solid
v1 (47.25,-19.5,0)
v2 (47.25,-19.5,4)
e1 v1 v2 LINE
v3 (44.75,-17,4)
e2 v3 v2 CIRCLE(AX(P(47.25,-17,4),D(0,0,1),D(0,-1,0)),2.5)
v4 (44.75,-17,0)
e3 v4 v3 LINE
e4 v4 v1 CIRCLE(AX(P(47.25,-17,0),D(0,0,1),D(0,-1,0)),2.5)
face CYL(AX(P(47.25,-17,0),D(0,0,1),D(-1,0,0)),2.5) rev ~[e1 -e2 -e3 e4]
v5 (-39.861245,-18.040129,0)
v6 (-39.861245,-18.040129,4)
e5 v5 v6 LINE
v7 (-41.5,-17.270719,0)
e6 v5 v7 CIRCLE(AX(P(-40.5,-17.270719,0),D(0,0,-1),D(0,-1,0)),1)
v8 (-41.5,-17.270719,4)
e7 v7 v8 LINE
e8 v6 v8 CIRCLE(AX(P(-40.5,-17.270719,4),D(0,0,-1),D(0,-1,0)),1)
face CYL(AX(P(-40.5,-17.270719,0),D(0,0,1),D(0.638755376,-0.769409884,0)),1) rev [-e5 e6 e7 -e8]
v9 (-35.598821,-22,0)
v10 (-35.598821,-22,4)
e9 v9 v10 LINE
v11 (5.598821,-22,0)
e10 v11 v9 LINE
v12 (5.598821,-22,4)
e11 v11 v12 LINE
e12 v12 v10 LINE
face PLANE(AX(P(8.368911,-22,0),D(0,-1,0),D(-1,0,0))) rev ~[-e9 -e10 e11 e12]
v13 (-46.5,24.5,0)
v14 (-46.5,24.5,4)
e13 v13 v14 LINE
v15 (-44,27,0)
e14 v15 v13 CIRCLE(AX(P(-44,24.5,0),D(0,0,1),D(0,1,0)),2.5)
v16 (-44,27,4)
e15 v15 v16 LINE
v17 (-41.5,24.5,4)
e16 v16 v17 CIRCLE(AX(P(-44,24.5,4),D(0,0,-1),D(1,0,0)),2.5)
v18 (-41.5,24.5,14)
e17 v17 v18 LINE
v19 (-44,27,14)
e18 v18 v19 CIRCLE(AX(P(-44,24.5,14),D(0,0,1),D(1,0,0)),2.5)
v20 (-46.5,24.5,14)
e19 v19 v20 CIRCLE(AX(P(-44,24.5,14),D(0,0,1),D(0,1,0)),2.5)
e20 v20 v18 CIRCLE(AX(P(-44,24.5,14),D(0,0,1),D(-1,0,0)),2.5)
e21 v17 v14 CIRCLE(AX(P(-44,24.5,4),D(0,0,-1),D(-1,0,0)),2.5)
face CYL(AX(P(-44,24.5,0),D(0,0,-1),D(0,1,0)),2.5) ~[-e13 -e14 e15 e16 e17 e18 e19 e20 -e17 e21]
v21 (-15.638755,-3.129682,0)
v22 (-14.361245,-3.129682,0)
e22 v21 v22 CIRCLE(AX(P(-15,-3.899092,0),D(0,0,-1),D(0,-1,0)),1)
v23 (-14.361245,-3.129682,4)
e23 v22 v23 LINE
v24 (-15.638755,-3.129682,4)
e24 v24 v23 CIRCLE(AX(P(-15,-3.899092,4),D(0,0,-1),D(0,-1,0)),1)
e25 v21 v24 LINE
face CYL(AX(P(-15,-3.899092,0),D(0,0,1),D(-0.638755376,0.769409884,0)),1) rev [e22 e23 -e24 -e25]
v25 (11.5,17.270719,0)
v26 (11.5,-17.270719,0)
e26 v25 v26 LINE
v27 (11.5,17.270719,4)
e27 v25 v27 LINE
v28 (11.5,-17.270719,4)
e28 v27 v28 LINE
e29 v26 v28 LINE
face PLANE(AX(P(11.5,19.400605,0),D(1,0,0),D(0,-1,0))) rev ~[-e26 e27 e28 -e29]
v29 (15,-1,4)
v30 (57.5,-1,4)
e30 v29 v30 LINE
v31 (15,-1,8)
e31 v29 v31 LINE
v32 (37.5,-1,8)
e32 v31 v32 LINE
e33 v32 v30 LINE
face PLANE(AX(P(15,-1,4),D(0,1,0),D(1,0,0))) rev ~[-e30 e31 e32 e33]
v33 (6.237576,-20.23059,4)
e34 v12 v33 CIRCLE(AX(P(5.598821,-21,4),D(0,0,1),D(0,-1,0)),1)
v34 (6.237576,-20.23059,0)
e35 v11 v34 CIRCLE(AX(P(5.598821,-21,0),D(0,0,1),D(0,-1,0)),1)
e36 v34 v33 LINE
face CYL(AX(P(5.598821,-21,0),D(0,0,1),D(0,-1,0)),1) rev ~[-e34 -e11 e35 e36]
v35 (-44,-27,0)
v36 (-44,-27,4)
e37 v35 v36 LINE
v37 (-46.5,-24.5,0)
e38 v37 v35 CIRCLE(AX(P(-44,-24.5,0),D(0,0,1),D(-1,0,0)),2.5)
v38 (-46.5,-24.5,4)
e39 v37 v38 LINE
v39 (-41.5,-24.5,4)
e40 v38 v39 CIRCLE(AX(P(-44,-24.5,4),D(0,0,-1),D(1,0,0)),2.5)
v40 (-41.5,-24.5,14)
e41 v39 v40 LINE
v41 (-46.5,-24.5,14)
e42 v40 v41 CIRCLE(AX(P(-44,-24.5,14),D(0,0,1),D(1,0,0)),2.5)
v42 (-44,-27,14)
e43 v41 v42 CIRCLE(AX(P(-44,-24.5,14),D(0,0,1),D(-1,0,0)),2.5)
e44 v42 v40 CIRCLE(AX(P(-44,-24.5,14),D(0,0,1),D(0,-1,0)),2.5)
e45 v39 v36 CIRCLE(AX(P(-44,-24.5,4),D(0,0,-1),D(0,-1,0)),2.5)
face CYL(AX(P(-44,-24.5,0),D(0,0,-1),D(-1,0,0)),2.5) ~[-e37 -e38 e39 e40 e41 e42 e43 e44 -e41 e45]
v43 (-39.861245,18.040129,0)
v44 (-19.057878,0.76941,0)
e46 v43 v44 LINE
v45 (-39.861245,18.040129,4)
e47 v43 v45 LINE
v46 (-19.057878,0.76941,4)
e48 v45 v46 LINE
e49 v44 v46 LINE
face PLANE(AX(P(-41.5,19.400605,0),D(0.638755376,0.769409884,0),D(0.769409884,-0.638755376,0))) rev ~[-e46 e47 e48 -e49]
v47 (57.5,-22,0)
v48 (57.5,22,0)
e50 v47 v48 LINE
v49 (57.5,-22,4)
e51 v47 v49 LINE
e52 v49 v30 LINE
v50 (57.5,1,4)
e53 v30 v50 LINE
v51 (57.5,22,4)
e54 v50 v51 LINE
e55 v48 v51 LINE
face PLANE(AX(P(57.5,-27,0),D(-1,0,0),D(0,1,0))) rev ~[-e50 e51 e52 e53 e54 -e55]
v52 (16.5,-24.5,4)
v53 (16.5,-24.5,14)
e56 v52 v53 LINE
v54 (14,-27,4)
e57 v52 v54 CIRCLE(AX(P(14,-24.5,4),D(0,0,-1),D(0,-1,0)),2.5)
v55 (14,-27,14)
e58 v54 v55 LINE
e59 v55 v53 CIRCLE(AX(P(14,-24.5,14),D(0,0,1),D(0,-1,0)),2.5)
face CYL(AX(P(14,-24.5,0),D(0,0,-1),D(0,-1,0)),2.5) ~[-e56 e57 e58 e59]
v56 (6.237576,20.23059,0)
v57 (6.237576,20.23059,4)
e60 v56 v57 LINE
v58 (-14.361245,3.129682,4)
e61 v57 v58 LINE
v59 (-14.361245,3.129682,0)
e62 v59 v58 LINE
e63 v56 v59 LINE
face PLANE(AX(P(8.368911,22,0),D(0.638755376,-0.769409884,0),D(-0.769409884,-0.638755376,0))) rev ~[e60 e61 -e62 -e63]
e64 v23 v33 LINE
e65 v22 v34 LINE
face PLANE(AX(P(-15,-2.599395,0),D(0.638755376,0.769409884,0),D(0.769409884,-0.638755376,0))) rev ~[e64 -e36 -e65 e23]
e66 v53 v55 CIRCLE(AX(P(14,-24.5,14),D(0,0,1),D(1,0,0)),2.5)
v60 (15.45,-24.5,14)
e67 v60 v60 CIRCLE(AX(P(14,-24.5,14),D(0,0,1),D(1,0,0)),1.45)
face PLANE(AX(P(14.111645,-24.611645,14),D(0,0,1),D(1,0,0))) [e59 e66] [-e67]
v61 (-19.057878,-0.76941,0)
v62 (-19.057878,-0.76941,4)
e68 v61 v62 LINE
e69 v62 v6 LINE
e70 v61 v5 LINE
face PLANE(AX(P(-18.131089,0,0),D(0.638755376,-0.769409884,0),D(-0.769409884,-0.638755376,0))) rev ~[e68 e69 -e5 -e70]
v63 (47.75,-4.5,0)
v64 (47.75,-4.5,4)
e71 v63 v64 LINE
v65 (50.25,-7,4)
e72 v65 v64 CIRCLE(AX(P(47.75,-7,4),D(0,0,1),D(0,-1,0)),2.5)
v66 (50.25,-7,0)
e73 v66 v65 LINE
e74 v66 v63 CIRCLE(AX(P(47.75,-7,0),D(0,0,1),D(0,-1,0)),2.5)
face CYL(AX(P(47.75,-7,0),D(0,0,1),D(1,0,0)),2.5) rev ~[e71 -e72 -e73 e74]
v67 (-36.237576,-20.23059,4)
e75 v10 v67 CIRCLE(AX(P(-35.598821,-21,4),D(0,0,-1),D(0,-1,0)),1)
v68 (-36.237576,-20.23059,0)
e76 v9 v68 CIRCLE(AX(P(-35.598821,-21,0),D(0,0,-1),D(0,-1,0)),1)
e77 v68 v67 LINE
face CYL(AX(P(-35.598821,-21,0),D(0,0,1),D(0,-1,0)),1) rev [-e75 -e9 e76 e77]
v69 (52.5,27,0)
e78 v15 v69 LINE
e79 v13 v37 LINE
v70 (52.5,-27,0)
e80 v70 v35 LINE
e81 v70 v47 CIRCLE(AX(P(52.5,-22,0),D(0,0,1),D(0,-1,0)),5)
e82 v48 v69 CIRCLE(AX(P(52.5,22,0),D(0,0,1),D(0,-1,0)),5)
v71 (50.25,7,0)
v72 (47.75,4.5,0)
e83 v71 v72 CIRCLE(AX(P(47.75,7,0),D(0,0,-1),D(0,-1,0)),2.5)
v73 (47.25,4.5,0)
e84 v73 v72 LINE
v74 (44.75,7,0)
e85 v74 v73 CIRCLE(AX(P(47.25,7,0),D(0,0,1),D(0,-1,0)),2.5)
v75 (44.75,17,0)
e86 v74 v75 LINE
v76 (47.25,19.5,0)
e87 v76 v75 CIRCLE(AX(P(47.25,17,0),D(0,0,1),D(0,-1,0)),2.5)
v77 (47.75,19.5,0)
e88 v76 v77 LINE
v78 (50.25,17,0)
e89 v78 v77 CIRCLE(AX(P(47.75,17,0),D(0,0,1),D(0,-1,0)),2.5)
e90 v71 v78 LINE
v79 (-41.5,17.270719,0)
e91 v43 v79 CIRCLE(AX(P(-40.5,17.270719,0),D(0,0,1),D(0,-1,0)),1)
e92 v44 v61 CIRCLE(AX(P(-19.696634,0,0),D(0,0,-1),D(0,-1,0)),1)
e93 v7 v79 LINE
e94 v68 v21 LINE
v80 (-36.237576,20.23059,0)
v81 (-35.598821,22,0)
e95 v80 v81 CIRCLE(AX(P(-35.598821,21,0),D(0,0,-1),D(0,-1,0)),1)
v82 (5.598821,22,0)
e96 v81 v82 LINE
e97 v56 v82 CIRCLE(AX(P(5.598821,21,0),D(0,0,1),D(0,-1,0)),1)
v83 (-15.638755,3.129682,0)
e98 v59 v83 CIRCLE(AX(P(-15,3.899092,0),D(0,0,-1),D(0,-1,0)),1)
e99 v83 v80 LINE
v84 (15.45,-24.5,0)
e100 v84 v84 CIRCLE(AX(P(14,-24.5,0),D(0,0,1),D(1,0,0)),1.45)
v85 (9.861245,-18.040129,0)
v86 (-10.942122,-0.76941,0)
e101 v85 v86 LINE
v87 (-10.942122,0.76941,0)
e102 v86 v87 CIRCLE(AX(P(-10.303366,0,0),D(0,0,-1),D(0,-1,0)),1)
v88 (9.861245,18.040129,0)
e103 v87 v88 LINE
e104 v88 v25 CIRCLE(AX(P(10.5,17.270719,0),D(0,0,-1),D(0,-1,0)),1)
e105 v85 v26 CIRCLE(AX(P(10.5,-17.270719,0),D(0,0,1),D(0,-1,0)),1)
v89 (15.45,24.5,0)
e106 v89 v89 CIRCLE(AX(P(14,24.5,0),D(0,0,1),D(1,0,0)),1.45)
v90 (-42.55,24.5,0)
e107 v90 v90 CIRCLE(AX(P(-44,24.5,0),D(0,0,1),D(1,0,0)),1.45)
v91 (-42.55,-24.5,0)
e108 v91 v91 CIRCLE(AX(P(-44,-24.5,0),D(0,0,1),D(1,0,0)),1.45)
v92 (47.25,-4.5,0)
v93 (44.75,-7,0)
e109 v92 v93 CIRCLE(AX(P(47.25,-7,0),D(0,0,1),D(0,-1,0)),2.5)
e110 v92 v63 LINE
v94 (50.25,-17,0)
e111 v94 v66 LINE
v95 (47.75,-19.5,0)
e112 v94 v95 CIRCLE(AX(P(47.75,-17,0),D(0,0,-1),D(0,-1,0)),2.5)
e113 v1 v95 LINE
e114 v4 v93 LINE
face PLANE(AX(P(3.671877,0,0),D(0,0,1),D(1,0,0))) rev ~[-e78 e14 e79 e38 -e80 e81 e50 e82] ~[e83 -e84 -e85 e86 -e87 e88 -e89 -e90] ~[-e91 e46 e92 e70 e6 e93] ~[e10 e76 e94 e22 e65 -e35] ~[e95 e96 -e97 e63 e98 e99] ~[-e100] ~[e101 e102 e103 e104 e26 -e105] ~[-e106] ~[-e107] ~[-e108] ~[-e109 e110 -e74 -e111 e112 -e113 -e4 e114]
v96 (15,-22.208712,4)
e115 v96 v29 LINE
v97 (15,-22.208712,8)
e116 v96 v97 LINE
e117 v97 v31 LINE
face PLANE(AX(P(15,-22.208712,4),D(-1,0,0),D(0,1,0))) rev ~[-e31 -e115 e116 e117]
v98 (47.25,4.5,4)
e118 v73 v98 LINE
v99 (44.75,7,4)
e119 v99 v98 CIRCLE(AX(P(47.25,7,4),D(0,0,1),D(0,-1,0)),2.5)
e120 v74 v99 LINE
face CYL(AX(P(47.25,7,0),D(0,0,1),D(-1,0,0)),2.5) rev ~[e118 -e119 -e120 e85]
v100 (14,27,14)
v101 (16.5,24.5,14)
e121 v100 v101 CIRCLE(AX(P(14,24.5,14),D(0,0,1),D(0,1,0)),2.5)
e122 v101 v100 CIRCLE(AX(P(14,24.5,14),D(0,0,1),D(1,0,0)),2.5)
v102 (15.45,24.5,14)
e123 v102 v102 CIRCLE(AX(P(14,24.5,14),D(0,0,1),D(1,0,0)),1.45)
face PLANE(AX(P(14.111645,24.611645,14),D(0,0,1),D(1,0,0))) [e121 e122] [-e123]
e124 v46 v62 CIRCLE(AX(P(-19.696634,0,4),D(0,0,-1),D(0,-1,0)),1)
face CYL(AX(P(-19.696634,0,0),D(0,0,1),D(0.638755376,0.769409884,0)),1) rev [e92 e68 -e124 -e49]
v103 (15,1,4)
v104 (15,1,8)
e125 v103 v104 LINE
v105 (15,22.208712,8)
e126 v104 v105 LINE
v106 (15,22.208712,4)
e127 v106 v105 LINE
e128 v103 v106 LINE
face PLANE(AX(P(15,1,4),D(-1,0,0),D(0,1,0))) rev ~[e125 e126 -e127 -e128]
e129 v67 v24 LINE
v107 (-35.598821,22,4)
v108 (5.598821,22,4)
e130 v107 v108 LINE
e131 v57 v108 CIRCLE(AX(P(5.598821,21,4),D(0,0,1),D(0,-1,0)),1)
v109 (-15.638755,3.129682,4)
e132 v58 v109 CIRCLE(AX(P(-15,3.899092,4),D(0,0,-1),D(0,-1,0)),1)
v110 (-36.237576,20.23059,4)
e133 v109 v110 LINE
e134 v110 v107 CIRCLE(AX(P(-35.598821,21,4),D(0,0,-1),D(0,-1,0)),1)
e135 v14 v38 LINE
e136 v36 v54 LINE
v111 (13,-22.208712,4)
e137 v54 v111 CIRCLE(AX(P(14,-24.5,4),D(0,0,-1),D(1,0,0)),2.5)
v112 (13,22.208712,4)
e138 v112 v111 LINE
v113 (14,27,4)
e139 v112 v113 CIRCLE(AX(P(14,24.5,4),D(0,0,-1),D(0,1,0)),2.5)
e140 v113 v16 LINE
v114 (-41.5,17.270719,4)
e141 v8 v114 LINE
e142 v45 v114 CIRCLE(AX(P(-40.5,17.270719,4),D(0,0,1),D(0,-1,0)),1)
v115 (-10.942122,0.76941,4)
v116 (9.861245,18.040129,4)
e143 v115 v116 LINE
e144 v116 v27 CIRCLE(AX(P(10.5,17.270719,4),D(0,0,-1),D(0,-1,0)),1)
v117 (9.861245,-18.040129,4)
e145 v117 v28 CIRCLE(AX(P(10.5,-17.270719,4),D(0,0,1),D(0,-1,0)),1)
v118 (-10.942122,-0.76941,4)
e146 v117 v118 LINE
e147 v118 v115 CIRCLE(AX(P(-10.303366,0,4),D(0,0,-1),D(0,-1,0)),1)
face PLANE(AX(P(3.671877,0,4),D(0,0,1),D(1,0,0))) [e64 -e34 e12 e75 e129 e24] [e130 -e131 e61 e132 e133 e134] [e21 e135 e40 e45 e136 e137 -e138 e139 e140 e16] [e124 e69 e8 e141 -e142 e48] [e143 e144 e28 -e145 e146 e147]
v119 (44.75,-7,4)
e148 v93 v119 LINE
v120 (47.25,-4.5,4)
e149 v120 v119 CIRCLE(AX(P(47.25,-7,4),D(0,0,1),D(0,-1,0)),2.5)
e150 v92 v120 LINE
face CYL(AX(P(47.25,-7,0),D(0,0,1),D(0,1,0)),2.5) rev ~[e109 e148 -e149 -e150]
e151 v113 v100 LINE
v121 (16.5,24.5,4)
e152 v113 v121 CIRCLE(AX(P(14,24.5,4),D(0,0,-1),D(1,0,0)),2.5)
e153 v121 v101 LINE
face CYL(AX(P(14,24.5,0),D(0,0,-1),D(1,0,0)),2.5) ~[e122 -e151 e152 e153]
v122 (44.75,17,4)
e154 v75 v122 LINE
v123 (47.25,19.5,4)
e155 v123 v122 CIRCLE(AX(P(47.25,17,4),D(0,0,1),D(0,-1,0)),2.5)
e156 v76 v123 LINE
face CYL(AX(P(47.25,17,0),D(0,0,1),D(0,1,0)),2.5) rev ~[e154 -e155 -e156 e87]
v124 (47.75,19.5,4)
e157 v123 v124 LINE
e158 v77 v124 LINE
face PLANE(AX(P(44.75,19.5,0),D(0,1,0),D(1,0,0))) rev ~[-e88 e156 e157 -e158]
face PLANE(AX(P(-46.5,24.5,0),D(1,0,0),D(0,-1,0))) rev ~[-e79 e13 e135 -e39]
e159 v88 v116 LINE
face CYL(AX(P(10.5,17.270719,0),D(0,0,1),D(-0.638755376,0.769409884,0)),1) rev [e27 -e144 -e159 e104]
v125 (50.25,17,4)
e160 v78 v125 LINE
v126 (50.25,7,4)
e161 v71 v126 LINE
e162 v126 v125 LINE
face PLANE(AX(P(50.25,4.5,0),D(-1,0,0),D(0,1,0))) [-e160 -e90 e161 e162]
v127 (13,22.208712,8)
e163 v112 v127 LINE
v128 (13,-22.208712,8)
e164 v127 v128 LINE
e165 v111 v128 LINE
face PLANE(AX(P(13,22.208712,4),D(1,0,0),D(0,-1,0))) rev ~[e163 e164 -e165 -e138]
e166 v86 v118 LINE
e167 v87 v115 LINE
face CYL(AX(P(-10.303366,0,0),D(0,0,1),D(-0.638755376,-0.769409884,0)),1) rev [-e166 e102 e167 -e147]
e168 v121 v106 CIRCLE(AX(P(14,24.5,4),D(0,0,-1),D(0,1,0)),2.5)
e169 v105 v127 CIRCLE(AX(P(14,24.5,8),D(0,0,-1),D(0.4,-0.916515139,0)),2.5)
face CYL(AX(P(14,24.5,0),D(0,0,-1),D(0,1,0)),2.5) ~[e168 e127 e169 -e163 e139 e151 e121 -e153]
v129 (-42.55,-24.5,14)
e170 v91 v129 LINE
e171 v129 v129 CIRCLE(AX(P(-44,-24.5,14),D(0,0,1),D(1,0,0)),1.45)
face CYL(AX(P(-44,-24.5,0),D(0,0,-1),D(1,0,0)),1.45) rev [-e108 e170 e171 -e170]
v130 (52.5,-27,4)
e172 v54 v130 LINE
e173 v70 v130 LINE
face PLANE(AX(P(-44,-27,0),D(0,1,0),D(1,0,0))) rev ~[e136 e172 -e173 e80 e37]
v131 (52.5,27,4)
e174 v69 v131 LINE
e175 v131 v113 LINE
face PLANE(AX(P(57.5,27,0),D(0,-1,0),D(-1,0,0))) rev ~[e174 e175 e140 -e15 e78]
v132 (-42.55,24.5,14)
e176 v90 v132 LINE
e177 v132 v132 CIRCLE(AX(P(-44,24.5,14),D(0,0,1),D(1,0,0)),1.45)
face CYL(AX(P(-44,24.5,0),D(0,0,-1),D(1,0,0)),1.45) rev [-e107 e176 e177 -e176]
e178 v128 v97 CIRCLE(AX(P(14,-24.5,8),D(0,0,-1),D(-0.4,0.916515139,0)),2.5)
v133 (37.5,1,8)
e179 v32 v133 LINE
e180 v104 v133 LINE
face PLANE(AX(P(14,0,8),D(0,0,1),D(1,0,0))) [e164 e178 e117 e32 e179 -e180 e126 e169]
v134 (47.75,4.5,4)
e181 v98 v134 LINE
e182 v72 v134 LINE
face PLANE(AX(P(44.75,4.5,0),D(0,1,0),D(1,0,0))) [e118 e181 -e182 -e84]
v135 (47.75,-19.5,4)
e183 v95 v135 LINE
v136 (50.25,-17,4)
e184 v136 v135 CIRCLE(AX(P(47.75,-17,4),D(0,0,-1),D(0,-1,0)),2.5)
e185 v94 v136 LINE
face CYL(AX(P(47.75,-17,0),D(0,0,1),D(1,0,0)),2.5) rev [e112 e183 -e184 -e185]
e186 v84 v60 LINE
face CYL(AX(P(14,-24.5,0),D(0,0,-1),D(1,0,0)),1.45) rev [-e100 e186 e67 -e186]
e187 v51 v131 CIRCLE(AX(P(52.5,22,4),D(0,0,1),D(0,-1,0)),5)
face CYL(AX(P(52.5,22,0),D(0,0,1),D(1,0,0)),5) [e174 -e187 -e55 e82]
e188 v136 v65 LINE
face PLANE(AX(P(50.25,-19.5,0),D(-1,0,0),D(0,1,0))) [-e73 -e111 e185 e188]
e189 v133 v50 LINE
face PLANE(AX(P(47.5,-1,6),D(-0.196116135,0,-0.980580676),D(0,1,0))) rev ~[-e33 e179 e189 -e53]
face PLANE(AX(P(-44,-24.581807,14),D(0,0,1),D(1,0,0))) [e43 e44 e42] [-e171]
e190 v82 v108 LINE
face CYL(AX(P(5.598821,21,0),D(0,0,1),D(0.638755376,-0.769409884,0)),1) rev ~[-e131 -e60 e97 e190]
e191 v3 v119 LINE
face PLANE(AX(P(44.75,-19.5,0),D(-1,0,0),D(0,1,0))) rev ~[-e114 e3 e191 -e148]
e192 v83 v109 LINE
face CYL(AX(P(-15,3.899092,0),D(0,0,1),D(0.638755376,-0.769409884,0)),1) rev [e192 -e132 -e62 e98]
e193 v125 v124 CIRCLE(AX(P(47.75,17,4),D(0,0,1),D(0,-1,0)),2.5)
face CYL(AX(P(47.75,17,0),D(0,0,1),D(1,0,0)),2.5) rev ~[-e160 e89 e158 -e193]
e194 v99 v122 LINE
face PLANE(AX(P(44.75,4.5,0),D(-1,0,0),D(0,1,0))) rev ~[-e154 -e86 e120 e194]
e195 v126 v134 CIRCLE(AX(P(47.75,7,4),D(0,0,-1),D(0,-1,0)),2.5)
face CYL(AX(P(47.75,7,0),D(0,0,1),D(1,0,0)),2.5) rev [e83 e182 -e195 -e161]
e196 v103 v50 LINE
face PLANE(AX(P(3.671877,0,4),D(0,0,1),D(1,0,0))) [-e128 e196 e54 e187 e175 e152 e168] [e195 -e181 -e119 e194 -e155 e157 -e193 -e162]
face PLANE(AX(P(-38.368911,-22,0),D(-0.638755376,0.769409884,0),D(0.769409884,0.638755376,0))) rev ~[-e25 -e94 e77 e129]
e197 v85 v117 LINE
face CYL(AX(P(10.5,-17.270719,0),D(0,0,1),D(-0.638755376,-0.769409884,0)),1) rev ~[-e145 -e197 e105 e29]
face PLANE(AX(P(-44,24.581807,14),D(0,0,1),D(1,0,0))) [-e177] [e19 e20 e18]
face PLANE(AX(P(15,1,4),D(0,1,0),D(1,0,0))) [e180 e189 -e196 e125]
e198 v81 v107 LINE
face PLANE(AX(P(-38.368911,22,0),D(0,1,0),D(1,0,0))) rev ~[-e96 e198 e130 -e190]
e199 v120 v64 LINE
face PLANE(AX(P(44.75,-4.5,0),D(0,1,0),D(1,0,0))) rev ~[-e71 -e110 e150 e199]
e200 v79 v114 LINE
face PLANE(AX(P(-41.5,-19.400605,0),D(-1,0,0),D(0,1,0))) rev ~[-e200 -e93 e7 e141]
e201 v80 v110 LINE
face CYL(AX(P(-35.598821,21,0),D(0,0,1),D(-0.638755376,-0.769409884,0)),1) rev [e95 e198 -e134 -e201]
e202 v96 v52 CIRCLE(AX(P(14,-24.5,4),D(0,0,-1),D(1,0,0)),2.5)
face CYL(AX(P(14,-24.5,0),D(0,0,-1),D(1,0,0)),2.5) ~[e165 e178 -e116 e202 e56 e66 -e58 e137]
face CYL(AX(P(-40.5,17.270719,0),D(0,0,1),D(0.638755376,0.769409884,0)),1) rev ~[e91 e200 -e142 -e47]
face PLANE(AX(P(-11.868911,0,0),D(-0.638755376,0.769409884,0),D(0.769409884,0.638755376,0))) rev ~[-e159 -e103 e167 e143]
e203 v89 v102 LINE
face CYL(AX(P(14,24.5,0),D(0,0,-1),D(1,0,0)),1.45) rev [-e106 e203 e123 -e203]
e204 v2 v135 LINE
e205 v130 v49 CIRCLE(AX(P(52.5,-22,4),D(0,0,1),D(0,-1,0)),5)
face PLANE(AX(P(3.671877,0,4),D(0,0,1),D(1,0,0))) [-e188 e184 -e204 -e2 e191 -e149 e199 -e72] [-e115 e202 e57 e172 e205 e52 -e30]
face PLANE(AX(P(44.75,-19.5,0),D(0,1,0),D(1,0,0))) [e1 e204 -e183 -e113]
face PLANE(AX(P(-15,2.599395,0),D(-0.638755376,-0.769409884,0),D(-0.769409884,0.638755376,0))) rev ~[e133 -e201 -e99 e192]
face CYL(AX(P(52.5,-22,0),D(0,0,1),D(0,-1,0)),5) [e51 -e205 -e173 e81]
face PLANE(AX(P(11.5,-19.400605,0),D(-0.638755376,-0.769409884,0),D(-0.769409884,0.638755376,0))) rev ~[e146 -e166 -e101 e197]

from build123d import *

# Parameters (mm, degrees)
F1_W     = 5.5
F1_H     = 15
F1_R     = 1.45
F2_DEPTH = 4
F3_DEPTH = 14
F4_R     = 2.5
F5_R     = 5
F6_W     = 42.5
F6_H     = 2
F7_DEPTH = 4
F8_SIZE2 = 4
F8_SIZE  = 20
F9_R     = 1


with BuildPart() as f2:
    # F1 (on Top) → F2 (new body)
    with BuildSketch(Plane.XY):
        with BuildLine():
            ThreePointArc((-44, 27), (-42.232233047, 26.267766953), (-41.5, 24.5))
            ThreePointArc((-41.5, 24.5), (-44, 22), (-46.5, 24.5))
            Line((-46.5, 24.5), (-46.5, -24.5))
            ThreePointArc((-46.5, -24.5), (-44, -22), (-41.5, -24.5))
            ThreePointArc((-41.5, -24.5), (-42.232233047, -26.267766953), (-44, -27))
            Line((-44, -27), (14, -27))
            Line((14, -27), (16.5, -27))
            Line((16.5, -27), (57.5, -27))
            Line((57.5, -27), (57.5, 27))
            Line((57.5, 27), (16.5, 27))
            Line((16.5, 27), (14, 27))
            Line((14, 27), (-44, 27))
        make_face()
        with BuildLine():
            ThreePointArc((16.5, -24.5), (15.767766953, -26.267766953), (14, -27))
            ThreePointArc((14, -27), (12.232233047, -22.732233047), (16.5, -24.5))
        make_face(mode=Mode.SUBTRACT)
        with Locations((47.5, -12)):
            Rectangle(F1_W, F1_H, mode=Mode.SUBTRACT)
        Polygon((11.5, -19.400605268), (11.5, -22), (8.368910891, -22), (-38.368910891, -22), (-41.5, -22), (-41.5, -19.400605268), (-41.5, 19.400605268), (-41.5, 22), (-38.368910891, 22), (8.368910891, 22), (11.5, 22), (11.5, 19.400605268), align=None, mode=Mode.SUBTRACT)
        with Locations((47.5, 12)):
            Rectangle(F1_W, F1_H, mode=Mode.SUBTRACT)
        with BuildLine():
            ThreePointArc((16.5, 24.5), (12.232233047, 22.732233047), (14, 27))
            ThreePointArc((14, 27), (15.767766953, 26.267766953), (16.5, 24.5))
        make_face(mode=Mode.SUBTRACT)
        Polygon((-41.5, 19.400605268), (-18.131089109, 0), (-15, 2.599394732), (-38.368910891, 22), (-41.5, 22), align=None)
        Polygon((-11.868910891, 0), (11.5, 19.400605268), (11.5, 22), (8.368910891, 22), (-15, 2.599394732), align=None)
        Polygon((8.368910891, -22), (11.5, -22), (11.5, -19.400605268), (-11.868910891, 0), (-15, -2.599394732), align=None)
        Polygon((-41.5, -22), (-38.368910891, -22), (-15, -2.599394732), (-18.131089109, 0), (-41.5, -19.400605268), align=None)
        with BuildLine():
            ThreePointArc((16.5, 24.5), (15.767766953, 26.267766953), (14, 27))
            ThreePointArc((14, 27), (12.232233047, 22.732233047), (16.5, 24.5))
        make_face()
        with Locations((14, 24.5)):
            Circle(F1_R, mode=Mode.SUBTRACT)
        with BuildLine():
            ThreePointArc((16.5, -24.5), (12.232233047, -22.732233047), (14, -27))
            ThreePointArc((14, -27), (15.767766953, -26.267766953), (16.5, -24.5))
        make_face()
        with Locations((14, -24.5)):
            Circle(F1_R, mode=Mode.SUBTRACT)
        with BuildLine():
            ThreePointArc((-46.5, 24.5), (-44, 22), (-41.5, 24.5))
            ThreePointArc((-41.5, 24.5), (-42.232233047, 26.267766953), (-44, 27))
            ThreePointArc((-44, 27), (-45.767766953, 26.267766953), (-46.5, 24.5))
        make_face()
        with Locations((-44, 24.5)):
            Circle(F1_R, mode=Mode.SUBTRACT)
        with BuildLine():
            ThreePointArc((-41.5, -24.5), (-44, -22), (-46.5, -24.5))
            ThreePointArc((-46.5, -24.5), (-45.767766953, -26.267766953), (-44, -27))
            ThreePointArc((-44, -27), (-42.232233047, -26.267766953), (-41.5, -24.5))
        make_face()
        with Locations((-44, -24.5)):
            Circle(F1_R, mode=Mode.SUBTRACT)
        Polygon((-18.131089109, 0), (-15, -2.599394732), (-11.868910891, 0), (-15, 2.599394732), align=None)
    extrude(amount=F2_DEPTH)

    # F1 (on Top) → F3 (join)
    with BuildSketch(Plane.XY):
        with BuildLine():
            ThreePointArc((-46.5, 24.5), (-44, 22), (-41.5, 24.5))
            ThreePointArc((-41.5, 24.5), (-42.232233047, 26.267766953), (-44, 27))
            ThreePointArc((-44, 27), (-45.767766953, 26.267766953), (-46.5, 24.5))
        make_face()
        with Locations((-44, 24.5)):
            Circle(F1_R, mode=Mode.SUBTRACT)
        with BuildLine():
            ThreePointArc((16.5, 24.5), (15.767766953, 26.267766953), (14, 27))
            ThreePointArc((14, 27), (12.232233047, 22.732233047), (16.5, 24.5))
        make_face()
        with Locations((14, 24.5)):
            Circle(F1_R, mode=Mode.SUBTRACT)
        with BuildLine():
            ThreePointArc((16.5, -24.5), (12.232233047, -22.732233047), (14, -27))
            ThreePointArc((14, -27), (15.767766953, -26.267766953), (16.5, -24.5))
        make_face()
        with Locations((14, -24.5)):
            Circle(F1_R, mode=Mode.SUBTRACT)
        with BuildLine():
            ThreePointArc((-41.5, -24.5), (-44, -22), (-46.5, -24.5))
            ThreePointArc((-46.5, -24.5), (-45.767766953, -26.267766953), (-44, -27))
            ThreePointArc((-44, -27), (-42.232233047, -26.267766953), (-41.5, -24.5))
        make_face()
        with Locations((-44, -24.5)):
            Circle(F1_R, mode=Mode.SUBTRACT)
    extrude(amount=F3_DEPTH)

    # F4
    f4_edges = [f2.edges().sort_by_distance(p)[0] for p in [
        (44.75, 19.5, 2),
        (50.25, 19.5, 2),
        (50.25, 4.5, 2),
        (44.75, 4.5, 2),
        (44.75, -19.5, 2),
        (50.25, -19.5, 2),
        (50.25, -4.5, 2),
        (44.75, -4.5, 2),
    ]]
    fillet(f4_edges, radius=F4_R)

    # F5
    f5_edges = [f2.edges().sort_by_distance(p)[0] for p in [
        (57.5, -27, 2),
        (57.5, 27, 2),
    ]]
    fillet(f5_edges, radius=F5_R)

    # F6 (on face) → F7 (join)
    with BuildSketch(Plane.XY.offset(4)):
        with BuildLine():
            ThreePointArc((15, 22.2087121525), (14, 22), (13, 22.2087121525))
            Line((13, 22.2087121525), (13, -22.2087121525))
            ThreePointArc((13, -22.2087121525), (14, -22), (15, -22.2087121525))
            Line((15, -22.2087121525), (15, -1))
            Line((15, -1), (15, 1))
            Line((15, 1), (15, 22.2087121525))
        make_face()
        with Locations((36.25, 0)):
            Rectangle(F6_W, F6_H)
    extrude(amount=F7_DEPTH)

    # F8
    f8_edges = [f2.edges().sort_by_distance(p)[0] for p in [
        (57.5, 0, 8),
    ]]
    f8_side = f2.faces().sort_by_distance((24.914828, 0, 8))[0]
    chamfer(f8_edges, length=F8_SIZE, length2=F8_SIZE2, reference=f8_side)

    # F9
    f9_edges = [f2.edges().sort_by_distance(p)[0] for p in [
        (-41.5, 19.400605, 2),
        (-38.368911, 22, 2),
        (8.368911, 22, 2),
        (11.5, 19.400605, 2),
        (11.5, -19.400605, 2),
        (8.368911, -22, 2),
        (-38.368911, -22, 2),
        (-41.5, -19.400605, 2),
        (-18.131089, 0, 2),
        (-15, -2.599395, 2),
        (-11.868911, 0, 2),
        (-15, 2.599395, 2),
    ]]
    fillet(f9_edges, radius=F9_R)


solid = f2.part
